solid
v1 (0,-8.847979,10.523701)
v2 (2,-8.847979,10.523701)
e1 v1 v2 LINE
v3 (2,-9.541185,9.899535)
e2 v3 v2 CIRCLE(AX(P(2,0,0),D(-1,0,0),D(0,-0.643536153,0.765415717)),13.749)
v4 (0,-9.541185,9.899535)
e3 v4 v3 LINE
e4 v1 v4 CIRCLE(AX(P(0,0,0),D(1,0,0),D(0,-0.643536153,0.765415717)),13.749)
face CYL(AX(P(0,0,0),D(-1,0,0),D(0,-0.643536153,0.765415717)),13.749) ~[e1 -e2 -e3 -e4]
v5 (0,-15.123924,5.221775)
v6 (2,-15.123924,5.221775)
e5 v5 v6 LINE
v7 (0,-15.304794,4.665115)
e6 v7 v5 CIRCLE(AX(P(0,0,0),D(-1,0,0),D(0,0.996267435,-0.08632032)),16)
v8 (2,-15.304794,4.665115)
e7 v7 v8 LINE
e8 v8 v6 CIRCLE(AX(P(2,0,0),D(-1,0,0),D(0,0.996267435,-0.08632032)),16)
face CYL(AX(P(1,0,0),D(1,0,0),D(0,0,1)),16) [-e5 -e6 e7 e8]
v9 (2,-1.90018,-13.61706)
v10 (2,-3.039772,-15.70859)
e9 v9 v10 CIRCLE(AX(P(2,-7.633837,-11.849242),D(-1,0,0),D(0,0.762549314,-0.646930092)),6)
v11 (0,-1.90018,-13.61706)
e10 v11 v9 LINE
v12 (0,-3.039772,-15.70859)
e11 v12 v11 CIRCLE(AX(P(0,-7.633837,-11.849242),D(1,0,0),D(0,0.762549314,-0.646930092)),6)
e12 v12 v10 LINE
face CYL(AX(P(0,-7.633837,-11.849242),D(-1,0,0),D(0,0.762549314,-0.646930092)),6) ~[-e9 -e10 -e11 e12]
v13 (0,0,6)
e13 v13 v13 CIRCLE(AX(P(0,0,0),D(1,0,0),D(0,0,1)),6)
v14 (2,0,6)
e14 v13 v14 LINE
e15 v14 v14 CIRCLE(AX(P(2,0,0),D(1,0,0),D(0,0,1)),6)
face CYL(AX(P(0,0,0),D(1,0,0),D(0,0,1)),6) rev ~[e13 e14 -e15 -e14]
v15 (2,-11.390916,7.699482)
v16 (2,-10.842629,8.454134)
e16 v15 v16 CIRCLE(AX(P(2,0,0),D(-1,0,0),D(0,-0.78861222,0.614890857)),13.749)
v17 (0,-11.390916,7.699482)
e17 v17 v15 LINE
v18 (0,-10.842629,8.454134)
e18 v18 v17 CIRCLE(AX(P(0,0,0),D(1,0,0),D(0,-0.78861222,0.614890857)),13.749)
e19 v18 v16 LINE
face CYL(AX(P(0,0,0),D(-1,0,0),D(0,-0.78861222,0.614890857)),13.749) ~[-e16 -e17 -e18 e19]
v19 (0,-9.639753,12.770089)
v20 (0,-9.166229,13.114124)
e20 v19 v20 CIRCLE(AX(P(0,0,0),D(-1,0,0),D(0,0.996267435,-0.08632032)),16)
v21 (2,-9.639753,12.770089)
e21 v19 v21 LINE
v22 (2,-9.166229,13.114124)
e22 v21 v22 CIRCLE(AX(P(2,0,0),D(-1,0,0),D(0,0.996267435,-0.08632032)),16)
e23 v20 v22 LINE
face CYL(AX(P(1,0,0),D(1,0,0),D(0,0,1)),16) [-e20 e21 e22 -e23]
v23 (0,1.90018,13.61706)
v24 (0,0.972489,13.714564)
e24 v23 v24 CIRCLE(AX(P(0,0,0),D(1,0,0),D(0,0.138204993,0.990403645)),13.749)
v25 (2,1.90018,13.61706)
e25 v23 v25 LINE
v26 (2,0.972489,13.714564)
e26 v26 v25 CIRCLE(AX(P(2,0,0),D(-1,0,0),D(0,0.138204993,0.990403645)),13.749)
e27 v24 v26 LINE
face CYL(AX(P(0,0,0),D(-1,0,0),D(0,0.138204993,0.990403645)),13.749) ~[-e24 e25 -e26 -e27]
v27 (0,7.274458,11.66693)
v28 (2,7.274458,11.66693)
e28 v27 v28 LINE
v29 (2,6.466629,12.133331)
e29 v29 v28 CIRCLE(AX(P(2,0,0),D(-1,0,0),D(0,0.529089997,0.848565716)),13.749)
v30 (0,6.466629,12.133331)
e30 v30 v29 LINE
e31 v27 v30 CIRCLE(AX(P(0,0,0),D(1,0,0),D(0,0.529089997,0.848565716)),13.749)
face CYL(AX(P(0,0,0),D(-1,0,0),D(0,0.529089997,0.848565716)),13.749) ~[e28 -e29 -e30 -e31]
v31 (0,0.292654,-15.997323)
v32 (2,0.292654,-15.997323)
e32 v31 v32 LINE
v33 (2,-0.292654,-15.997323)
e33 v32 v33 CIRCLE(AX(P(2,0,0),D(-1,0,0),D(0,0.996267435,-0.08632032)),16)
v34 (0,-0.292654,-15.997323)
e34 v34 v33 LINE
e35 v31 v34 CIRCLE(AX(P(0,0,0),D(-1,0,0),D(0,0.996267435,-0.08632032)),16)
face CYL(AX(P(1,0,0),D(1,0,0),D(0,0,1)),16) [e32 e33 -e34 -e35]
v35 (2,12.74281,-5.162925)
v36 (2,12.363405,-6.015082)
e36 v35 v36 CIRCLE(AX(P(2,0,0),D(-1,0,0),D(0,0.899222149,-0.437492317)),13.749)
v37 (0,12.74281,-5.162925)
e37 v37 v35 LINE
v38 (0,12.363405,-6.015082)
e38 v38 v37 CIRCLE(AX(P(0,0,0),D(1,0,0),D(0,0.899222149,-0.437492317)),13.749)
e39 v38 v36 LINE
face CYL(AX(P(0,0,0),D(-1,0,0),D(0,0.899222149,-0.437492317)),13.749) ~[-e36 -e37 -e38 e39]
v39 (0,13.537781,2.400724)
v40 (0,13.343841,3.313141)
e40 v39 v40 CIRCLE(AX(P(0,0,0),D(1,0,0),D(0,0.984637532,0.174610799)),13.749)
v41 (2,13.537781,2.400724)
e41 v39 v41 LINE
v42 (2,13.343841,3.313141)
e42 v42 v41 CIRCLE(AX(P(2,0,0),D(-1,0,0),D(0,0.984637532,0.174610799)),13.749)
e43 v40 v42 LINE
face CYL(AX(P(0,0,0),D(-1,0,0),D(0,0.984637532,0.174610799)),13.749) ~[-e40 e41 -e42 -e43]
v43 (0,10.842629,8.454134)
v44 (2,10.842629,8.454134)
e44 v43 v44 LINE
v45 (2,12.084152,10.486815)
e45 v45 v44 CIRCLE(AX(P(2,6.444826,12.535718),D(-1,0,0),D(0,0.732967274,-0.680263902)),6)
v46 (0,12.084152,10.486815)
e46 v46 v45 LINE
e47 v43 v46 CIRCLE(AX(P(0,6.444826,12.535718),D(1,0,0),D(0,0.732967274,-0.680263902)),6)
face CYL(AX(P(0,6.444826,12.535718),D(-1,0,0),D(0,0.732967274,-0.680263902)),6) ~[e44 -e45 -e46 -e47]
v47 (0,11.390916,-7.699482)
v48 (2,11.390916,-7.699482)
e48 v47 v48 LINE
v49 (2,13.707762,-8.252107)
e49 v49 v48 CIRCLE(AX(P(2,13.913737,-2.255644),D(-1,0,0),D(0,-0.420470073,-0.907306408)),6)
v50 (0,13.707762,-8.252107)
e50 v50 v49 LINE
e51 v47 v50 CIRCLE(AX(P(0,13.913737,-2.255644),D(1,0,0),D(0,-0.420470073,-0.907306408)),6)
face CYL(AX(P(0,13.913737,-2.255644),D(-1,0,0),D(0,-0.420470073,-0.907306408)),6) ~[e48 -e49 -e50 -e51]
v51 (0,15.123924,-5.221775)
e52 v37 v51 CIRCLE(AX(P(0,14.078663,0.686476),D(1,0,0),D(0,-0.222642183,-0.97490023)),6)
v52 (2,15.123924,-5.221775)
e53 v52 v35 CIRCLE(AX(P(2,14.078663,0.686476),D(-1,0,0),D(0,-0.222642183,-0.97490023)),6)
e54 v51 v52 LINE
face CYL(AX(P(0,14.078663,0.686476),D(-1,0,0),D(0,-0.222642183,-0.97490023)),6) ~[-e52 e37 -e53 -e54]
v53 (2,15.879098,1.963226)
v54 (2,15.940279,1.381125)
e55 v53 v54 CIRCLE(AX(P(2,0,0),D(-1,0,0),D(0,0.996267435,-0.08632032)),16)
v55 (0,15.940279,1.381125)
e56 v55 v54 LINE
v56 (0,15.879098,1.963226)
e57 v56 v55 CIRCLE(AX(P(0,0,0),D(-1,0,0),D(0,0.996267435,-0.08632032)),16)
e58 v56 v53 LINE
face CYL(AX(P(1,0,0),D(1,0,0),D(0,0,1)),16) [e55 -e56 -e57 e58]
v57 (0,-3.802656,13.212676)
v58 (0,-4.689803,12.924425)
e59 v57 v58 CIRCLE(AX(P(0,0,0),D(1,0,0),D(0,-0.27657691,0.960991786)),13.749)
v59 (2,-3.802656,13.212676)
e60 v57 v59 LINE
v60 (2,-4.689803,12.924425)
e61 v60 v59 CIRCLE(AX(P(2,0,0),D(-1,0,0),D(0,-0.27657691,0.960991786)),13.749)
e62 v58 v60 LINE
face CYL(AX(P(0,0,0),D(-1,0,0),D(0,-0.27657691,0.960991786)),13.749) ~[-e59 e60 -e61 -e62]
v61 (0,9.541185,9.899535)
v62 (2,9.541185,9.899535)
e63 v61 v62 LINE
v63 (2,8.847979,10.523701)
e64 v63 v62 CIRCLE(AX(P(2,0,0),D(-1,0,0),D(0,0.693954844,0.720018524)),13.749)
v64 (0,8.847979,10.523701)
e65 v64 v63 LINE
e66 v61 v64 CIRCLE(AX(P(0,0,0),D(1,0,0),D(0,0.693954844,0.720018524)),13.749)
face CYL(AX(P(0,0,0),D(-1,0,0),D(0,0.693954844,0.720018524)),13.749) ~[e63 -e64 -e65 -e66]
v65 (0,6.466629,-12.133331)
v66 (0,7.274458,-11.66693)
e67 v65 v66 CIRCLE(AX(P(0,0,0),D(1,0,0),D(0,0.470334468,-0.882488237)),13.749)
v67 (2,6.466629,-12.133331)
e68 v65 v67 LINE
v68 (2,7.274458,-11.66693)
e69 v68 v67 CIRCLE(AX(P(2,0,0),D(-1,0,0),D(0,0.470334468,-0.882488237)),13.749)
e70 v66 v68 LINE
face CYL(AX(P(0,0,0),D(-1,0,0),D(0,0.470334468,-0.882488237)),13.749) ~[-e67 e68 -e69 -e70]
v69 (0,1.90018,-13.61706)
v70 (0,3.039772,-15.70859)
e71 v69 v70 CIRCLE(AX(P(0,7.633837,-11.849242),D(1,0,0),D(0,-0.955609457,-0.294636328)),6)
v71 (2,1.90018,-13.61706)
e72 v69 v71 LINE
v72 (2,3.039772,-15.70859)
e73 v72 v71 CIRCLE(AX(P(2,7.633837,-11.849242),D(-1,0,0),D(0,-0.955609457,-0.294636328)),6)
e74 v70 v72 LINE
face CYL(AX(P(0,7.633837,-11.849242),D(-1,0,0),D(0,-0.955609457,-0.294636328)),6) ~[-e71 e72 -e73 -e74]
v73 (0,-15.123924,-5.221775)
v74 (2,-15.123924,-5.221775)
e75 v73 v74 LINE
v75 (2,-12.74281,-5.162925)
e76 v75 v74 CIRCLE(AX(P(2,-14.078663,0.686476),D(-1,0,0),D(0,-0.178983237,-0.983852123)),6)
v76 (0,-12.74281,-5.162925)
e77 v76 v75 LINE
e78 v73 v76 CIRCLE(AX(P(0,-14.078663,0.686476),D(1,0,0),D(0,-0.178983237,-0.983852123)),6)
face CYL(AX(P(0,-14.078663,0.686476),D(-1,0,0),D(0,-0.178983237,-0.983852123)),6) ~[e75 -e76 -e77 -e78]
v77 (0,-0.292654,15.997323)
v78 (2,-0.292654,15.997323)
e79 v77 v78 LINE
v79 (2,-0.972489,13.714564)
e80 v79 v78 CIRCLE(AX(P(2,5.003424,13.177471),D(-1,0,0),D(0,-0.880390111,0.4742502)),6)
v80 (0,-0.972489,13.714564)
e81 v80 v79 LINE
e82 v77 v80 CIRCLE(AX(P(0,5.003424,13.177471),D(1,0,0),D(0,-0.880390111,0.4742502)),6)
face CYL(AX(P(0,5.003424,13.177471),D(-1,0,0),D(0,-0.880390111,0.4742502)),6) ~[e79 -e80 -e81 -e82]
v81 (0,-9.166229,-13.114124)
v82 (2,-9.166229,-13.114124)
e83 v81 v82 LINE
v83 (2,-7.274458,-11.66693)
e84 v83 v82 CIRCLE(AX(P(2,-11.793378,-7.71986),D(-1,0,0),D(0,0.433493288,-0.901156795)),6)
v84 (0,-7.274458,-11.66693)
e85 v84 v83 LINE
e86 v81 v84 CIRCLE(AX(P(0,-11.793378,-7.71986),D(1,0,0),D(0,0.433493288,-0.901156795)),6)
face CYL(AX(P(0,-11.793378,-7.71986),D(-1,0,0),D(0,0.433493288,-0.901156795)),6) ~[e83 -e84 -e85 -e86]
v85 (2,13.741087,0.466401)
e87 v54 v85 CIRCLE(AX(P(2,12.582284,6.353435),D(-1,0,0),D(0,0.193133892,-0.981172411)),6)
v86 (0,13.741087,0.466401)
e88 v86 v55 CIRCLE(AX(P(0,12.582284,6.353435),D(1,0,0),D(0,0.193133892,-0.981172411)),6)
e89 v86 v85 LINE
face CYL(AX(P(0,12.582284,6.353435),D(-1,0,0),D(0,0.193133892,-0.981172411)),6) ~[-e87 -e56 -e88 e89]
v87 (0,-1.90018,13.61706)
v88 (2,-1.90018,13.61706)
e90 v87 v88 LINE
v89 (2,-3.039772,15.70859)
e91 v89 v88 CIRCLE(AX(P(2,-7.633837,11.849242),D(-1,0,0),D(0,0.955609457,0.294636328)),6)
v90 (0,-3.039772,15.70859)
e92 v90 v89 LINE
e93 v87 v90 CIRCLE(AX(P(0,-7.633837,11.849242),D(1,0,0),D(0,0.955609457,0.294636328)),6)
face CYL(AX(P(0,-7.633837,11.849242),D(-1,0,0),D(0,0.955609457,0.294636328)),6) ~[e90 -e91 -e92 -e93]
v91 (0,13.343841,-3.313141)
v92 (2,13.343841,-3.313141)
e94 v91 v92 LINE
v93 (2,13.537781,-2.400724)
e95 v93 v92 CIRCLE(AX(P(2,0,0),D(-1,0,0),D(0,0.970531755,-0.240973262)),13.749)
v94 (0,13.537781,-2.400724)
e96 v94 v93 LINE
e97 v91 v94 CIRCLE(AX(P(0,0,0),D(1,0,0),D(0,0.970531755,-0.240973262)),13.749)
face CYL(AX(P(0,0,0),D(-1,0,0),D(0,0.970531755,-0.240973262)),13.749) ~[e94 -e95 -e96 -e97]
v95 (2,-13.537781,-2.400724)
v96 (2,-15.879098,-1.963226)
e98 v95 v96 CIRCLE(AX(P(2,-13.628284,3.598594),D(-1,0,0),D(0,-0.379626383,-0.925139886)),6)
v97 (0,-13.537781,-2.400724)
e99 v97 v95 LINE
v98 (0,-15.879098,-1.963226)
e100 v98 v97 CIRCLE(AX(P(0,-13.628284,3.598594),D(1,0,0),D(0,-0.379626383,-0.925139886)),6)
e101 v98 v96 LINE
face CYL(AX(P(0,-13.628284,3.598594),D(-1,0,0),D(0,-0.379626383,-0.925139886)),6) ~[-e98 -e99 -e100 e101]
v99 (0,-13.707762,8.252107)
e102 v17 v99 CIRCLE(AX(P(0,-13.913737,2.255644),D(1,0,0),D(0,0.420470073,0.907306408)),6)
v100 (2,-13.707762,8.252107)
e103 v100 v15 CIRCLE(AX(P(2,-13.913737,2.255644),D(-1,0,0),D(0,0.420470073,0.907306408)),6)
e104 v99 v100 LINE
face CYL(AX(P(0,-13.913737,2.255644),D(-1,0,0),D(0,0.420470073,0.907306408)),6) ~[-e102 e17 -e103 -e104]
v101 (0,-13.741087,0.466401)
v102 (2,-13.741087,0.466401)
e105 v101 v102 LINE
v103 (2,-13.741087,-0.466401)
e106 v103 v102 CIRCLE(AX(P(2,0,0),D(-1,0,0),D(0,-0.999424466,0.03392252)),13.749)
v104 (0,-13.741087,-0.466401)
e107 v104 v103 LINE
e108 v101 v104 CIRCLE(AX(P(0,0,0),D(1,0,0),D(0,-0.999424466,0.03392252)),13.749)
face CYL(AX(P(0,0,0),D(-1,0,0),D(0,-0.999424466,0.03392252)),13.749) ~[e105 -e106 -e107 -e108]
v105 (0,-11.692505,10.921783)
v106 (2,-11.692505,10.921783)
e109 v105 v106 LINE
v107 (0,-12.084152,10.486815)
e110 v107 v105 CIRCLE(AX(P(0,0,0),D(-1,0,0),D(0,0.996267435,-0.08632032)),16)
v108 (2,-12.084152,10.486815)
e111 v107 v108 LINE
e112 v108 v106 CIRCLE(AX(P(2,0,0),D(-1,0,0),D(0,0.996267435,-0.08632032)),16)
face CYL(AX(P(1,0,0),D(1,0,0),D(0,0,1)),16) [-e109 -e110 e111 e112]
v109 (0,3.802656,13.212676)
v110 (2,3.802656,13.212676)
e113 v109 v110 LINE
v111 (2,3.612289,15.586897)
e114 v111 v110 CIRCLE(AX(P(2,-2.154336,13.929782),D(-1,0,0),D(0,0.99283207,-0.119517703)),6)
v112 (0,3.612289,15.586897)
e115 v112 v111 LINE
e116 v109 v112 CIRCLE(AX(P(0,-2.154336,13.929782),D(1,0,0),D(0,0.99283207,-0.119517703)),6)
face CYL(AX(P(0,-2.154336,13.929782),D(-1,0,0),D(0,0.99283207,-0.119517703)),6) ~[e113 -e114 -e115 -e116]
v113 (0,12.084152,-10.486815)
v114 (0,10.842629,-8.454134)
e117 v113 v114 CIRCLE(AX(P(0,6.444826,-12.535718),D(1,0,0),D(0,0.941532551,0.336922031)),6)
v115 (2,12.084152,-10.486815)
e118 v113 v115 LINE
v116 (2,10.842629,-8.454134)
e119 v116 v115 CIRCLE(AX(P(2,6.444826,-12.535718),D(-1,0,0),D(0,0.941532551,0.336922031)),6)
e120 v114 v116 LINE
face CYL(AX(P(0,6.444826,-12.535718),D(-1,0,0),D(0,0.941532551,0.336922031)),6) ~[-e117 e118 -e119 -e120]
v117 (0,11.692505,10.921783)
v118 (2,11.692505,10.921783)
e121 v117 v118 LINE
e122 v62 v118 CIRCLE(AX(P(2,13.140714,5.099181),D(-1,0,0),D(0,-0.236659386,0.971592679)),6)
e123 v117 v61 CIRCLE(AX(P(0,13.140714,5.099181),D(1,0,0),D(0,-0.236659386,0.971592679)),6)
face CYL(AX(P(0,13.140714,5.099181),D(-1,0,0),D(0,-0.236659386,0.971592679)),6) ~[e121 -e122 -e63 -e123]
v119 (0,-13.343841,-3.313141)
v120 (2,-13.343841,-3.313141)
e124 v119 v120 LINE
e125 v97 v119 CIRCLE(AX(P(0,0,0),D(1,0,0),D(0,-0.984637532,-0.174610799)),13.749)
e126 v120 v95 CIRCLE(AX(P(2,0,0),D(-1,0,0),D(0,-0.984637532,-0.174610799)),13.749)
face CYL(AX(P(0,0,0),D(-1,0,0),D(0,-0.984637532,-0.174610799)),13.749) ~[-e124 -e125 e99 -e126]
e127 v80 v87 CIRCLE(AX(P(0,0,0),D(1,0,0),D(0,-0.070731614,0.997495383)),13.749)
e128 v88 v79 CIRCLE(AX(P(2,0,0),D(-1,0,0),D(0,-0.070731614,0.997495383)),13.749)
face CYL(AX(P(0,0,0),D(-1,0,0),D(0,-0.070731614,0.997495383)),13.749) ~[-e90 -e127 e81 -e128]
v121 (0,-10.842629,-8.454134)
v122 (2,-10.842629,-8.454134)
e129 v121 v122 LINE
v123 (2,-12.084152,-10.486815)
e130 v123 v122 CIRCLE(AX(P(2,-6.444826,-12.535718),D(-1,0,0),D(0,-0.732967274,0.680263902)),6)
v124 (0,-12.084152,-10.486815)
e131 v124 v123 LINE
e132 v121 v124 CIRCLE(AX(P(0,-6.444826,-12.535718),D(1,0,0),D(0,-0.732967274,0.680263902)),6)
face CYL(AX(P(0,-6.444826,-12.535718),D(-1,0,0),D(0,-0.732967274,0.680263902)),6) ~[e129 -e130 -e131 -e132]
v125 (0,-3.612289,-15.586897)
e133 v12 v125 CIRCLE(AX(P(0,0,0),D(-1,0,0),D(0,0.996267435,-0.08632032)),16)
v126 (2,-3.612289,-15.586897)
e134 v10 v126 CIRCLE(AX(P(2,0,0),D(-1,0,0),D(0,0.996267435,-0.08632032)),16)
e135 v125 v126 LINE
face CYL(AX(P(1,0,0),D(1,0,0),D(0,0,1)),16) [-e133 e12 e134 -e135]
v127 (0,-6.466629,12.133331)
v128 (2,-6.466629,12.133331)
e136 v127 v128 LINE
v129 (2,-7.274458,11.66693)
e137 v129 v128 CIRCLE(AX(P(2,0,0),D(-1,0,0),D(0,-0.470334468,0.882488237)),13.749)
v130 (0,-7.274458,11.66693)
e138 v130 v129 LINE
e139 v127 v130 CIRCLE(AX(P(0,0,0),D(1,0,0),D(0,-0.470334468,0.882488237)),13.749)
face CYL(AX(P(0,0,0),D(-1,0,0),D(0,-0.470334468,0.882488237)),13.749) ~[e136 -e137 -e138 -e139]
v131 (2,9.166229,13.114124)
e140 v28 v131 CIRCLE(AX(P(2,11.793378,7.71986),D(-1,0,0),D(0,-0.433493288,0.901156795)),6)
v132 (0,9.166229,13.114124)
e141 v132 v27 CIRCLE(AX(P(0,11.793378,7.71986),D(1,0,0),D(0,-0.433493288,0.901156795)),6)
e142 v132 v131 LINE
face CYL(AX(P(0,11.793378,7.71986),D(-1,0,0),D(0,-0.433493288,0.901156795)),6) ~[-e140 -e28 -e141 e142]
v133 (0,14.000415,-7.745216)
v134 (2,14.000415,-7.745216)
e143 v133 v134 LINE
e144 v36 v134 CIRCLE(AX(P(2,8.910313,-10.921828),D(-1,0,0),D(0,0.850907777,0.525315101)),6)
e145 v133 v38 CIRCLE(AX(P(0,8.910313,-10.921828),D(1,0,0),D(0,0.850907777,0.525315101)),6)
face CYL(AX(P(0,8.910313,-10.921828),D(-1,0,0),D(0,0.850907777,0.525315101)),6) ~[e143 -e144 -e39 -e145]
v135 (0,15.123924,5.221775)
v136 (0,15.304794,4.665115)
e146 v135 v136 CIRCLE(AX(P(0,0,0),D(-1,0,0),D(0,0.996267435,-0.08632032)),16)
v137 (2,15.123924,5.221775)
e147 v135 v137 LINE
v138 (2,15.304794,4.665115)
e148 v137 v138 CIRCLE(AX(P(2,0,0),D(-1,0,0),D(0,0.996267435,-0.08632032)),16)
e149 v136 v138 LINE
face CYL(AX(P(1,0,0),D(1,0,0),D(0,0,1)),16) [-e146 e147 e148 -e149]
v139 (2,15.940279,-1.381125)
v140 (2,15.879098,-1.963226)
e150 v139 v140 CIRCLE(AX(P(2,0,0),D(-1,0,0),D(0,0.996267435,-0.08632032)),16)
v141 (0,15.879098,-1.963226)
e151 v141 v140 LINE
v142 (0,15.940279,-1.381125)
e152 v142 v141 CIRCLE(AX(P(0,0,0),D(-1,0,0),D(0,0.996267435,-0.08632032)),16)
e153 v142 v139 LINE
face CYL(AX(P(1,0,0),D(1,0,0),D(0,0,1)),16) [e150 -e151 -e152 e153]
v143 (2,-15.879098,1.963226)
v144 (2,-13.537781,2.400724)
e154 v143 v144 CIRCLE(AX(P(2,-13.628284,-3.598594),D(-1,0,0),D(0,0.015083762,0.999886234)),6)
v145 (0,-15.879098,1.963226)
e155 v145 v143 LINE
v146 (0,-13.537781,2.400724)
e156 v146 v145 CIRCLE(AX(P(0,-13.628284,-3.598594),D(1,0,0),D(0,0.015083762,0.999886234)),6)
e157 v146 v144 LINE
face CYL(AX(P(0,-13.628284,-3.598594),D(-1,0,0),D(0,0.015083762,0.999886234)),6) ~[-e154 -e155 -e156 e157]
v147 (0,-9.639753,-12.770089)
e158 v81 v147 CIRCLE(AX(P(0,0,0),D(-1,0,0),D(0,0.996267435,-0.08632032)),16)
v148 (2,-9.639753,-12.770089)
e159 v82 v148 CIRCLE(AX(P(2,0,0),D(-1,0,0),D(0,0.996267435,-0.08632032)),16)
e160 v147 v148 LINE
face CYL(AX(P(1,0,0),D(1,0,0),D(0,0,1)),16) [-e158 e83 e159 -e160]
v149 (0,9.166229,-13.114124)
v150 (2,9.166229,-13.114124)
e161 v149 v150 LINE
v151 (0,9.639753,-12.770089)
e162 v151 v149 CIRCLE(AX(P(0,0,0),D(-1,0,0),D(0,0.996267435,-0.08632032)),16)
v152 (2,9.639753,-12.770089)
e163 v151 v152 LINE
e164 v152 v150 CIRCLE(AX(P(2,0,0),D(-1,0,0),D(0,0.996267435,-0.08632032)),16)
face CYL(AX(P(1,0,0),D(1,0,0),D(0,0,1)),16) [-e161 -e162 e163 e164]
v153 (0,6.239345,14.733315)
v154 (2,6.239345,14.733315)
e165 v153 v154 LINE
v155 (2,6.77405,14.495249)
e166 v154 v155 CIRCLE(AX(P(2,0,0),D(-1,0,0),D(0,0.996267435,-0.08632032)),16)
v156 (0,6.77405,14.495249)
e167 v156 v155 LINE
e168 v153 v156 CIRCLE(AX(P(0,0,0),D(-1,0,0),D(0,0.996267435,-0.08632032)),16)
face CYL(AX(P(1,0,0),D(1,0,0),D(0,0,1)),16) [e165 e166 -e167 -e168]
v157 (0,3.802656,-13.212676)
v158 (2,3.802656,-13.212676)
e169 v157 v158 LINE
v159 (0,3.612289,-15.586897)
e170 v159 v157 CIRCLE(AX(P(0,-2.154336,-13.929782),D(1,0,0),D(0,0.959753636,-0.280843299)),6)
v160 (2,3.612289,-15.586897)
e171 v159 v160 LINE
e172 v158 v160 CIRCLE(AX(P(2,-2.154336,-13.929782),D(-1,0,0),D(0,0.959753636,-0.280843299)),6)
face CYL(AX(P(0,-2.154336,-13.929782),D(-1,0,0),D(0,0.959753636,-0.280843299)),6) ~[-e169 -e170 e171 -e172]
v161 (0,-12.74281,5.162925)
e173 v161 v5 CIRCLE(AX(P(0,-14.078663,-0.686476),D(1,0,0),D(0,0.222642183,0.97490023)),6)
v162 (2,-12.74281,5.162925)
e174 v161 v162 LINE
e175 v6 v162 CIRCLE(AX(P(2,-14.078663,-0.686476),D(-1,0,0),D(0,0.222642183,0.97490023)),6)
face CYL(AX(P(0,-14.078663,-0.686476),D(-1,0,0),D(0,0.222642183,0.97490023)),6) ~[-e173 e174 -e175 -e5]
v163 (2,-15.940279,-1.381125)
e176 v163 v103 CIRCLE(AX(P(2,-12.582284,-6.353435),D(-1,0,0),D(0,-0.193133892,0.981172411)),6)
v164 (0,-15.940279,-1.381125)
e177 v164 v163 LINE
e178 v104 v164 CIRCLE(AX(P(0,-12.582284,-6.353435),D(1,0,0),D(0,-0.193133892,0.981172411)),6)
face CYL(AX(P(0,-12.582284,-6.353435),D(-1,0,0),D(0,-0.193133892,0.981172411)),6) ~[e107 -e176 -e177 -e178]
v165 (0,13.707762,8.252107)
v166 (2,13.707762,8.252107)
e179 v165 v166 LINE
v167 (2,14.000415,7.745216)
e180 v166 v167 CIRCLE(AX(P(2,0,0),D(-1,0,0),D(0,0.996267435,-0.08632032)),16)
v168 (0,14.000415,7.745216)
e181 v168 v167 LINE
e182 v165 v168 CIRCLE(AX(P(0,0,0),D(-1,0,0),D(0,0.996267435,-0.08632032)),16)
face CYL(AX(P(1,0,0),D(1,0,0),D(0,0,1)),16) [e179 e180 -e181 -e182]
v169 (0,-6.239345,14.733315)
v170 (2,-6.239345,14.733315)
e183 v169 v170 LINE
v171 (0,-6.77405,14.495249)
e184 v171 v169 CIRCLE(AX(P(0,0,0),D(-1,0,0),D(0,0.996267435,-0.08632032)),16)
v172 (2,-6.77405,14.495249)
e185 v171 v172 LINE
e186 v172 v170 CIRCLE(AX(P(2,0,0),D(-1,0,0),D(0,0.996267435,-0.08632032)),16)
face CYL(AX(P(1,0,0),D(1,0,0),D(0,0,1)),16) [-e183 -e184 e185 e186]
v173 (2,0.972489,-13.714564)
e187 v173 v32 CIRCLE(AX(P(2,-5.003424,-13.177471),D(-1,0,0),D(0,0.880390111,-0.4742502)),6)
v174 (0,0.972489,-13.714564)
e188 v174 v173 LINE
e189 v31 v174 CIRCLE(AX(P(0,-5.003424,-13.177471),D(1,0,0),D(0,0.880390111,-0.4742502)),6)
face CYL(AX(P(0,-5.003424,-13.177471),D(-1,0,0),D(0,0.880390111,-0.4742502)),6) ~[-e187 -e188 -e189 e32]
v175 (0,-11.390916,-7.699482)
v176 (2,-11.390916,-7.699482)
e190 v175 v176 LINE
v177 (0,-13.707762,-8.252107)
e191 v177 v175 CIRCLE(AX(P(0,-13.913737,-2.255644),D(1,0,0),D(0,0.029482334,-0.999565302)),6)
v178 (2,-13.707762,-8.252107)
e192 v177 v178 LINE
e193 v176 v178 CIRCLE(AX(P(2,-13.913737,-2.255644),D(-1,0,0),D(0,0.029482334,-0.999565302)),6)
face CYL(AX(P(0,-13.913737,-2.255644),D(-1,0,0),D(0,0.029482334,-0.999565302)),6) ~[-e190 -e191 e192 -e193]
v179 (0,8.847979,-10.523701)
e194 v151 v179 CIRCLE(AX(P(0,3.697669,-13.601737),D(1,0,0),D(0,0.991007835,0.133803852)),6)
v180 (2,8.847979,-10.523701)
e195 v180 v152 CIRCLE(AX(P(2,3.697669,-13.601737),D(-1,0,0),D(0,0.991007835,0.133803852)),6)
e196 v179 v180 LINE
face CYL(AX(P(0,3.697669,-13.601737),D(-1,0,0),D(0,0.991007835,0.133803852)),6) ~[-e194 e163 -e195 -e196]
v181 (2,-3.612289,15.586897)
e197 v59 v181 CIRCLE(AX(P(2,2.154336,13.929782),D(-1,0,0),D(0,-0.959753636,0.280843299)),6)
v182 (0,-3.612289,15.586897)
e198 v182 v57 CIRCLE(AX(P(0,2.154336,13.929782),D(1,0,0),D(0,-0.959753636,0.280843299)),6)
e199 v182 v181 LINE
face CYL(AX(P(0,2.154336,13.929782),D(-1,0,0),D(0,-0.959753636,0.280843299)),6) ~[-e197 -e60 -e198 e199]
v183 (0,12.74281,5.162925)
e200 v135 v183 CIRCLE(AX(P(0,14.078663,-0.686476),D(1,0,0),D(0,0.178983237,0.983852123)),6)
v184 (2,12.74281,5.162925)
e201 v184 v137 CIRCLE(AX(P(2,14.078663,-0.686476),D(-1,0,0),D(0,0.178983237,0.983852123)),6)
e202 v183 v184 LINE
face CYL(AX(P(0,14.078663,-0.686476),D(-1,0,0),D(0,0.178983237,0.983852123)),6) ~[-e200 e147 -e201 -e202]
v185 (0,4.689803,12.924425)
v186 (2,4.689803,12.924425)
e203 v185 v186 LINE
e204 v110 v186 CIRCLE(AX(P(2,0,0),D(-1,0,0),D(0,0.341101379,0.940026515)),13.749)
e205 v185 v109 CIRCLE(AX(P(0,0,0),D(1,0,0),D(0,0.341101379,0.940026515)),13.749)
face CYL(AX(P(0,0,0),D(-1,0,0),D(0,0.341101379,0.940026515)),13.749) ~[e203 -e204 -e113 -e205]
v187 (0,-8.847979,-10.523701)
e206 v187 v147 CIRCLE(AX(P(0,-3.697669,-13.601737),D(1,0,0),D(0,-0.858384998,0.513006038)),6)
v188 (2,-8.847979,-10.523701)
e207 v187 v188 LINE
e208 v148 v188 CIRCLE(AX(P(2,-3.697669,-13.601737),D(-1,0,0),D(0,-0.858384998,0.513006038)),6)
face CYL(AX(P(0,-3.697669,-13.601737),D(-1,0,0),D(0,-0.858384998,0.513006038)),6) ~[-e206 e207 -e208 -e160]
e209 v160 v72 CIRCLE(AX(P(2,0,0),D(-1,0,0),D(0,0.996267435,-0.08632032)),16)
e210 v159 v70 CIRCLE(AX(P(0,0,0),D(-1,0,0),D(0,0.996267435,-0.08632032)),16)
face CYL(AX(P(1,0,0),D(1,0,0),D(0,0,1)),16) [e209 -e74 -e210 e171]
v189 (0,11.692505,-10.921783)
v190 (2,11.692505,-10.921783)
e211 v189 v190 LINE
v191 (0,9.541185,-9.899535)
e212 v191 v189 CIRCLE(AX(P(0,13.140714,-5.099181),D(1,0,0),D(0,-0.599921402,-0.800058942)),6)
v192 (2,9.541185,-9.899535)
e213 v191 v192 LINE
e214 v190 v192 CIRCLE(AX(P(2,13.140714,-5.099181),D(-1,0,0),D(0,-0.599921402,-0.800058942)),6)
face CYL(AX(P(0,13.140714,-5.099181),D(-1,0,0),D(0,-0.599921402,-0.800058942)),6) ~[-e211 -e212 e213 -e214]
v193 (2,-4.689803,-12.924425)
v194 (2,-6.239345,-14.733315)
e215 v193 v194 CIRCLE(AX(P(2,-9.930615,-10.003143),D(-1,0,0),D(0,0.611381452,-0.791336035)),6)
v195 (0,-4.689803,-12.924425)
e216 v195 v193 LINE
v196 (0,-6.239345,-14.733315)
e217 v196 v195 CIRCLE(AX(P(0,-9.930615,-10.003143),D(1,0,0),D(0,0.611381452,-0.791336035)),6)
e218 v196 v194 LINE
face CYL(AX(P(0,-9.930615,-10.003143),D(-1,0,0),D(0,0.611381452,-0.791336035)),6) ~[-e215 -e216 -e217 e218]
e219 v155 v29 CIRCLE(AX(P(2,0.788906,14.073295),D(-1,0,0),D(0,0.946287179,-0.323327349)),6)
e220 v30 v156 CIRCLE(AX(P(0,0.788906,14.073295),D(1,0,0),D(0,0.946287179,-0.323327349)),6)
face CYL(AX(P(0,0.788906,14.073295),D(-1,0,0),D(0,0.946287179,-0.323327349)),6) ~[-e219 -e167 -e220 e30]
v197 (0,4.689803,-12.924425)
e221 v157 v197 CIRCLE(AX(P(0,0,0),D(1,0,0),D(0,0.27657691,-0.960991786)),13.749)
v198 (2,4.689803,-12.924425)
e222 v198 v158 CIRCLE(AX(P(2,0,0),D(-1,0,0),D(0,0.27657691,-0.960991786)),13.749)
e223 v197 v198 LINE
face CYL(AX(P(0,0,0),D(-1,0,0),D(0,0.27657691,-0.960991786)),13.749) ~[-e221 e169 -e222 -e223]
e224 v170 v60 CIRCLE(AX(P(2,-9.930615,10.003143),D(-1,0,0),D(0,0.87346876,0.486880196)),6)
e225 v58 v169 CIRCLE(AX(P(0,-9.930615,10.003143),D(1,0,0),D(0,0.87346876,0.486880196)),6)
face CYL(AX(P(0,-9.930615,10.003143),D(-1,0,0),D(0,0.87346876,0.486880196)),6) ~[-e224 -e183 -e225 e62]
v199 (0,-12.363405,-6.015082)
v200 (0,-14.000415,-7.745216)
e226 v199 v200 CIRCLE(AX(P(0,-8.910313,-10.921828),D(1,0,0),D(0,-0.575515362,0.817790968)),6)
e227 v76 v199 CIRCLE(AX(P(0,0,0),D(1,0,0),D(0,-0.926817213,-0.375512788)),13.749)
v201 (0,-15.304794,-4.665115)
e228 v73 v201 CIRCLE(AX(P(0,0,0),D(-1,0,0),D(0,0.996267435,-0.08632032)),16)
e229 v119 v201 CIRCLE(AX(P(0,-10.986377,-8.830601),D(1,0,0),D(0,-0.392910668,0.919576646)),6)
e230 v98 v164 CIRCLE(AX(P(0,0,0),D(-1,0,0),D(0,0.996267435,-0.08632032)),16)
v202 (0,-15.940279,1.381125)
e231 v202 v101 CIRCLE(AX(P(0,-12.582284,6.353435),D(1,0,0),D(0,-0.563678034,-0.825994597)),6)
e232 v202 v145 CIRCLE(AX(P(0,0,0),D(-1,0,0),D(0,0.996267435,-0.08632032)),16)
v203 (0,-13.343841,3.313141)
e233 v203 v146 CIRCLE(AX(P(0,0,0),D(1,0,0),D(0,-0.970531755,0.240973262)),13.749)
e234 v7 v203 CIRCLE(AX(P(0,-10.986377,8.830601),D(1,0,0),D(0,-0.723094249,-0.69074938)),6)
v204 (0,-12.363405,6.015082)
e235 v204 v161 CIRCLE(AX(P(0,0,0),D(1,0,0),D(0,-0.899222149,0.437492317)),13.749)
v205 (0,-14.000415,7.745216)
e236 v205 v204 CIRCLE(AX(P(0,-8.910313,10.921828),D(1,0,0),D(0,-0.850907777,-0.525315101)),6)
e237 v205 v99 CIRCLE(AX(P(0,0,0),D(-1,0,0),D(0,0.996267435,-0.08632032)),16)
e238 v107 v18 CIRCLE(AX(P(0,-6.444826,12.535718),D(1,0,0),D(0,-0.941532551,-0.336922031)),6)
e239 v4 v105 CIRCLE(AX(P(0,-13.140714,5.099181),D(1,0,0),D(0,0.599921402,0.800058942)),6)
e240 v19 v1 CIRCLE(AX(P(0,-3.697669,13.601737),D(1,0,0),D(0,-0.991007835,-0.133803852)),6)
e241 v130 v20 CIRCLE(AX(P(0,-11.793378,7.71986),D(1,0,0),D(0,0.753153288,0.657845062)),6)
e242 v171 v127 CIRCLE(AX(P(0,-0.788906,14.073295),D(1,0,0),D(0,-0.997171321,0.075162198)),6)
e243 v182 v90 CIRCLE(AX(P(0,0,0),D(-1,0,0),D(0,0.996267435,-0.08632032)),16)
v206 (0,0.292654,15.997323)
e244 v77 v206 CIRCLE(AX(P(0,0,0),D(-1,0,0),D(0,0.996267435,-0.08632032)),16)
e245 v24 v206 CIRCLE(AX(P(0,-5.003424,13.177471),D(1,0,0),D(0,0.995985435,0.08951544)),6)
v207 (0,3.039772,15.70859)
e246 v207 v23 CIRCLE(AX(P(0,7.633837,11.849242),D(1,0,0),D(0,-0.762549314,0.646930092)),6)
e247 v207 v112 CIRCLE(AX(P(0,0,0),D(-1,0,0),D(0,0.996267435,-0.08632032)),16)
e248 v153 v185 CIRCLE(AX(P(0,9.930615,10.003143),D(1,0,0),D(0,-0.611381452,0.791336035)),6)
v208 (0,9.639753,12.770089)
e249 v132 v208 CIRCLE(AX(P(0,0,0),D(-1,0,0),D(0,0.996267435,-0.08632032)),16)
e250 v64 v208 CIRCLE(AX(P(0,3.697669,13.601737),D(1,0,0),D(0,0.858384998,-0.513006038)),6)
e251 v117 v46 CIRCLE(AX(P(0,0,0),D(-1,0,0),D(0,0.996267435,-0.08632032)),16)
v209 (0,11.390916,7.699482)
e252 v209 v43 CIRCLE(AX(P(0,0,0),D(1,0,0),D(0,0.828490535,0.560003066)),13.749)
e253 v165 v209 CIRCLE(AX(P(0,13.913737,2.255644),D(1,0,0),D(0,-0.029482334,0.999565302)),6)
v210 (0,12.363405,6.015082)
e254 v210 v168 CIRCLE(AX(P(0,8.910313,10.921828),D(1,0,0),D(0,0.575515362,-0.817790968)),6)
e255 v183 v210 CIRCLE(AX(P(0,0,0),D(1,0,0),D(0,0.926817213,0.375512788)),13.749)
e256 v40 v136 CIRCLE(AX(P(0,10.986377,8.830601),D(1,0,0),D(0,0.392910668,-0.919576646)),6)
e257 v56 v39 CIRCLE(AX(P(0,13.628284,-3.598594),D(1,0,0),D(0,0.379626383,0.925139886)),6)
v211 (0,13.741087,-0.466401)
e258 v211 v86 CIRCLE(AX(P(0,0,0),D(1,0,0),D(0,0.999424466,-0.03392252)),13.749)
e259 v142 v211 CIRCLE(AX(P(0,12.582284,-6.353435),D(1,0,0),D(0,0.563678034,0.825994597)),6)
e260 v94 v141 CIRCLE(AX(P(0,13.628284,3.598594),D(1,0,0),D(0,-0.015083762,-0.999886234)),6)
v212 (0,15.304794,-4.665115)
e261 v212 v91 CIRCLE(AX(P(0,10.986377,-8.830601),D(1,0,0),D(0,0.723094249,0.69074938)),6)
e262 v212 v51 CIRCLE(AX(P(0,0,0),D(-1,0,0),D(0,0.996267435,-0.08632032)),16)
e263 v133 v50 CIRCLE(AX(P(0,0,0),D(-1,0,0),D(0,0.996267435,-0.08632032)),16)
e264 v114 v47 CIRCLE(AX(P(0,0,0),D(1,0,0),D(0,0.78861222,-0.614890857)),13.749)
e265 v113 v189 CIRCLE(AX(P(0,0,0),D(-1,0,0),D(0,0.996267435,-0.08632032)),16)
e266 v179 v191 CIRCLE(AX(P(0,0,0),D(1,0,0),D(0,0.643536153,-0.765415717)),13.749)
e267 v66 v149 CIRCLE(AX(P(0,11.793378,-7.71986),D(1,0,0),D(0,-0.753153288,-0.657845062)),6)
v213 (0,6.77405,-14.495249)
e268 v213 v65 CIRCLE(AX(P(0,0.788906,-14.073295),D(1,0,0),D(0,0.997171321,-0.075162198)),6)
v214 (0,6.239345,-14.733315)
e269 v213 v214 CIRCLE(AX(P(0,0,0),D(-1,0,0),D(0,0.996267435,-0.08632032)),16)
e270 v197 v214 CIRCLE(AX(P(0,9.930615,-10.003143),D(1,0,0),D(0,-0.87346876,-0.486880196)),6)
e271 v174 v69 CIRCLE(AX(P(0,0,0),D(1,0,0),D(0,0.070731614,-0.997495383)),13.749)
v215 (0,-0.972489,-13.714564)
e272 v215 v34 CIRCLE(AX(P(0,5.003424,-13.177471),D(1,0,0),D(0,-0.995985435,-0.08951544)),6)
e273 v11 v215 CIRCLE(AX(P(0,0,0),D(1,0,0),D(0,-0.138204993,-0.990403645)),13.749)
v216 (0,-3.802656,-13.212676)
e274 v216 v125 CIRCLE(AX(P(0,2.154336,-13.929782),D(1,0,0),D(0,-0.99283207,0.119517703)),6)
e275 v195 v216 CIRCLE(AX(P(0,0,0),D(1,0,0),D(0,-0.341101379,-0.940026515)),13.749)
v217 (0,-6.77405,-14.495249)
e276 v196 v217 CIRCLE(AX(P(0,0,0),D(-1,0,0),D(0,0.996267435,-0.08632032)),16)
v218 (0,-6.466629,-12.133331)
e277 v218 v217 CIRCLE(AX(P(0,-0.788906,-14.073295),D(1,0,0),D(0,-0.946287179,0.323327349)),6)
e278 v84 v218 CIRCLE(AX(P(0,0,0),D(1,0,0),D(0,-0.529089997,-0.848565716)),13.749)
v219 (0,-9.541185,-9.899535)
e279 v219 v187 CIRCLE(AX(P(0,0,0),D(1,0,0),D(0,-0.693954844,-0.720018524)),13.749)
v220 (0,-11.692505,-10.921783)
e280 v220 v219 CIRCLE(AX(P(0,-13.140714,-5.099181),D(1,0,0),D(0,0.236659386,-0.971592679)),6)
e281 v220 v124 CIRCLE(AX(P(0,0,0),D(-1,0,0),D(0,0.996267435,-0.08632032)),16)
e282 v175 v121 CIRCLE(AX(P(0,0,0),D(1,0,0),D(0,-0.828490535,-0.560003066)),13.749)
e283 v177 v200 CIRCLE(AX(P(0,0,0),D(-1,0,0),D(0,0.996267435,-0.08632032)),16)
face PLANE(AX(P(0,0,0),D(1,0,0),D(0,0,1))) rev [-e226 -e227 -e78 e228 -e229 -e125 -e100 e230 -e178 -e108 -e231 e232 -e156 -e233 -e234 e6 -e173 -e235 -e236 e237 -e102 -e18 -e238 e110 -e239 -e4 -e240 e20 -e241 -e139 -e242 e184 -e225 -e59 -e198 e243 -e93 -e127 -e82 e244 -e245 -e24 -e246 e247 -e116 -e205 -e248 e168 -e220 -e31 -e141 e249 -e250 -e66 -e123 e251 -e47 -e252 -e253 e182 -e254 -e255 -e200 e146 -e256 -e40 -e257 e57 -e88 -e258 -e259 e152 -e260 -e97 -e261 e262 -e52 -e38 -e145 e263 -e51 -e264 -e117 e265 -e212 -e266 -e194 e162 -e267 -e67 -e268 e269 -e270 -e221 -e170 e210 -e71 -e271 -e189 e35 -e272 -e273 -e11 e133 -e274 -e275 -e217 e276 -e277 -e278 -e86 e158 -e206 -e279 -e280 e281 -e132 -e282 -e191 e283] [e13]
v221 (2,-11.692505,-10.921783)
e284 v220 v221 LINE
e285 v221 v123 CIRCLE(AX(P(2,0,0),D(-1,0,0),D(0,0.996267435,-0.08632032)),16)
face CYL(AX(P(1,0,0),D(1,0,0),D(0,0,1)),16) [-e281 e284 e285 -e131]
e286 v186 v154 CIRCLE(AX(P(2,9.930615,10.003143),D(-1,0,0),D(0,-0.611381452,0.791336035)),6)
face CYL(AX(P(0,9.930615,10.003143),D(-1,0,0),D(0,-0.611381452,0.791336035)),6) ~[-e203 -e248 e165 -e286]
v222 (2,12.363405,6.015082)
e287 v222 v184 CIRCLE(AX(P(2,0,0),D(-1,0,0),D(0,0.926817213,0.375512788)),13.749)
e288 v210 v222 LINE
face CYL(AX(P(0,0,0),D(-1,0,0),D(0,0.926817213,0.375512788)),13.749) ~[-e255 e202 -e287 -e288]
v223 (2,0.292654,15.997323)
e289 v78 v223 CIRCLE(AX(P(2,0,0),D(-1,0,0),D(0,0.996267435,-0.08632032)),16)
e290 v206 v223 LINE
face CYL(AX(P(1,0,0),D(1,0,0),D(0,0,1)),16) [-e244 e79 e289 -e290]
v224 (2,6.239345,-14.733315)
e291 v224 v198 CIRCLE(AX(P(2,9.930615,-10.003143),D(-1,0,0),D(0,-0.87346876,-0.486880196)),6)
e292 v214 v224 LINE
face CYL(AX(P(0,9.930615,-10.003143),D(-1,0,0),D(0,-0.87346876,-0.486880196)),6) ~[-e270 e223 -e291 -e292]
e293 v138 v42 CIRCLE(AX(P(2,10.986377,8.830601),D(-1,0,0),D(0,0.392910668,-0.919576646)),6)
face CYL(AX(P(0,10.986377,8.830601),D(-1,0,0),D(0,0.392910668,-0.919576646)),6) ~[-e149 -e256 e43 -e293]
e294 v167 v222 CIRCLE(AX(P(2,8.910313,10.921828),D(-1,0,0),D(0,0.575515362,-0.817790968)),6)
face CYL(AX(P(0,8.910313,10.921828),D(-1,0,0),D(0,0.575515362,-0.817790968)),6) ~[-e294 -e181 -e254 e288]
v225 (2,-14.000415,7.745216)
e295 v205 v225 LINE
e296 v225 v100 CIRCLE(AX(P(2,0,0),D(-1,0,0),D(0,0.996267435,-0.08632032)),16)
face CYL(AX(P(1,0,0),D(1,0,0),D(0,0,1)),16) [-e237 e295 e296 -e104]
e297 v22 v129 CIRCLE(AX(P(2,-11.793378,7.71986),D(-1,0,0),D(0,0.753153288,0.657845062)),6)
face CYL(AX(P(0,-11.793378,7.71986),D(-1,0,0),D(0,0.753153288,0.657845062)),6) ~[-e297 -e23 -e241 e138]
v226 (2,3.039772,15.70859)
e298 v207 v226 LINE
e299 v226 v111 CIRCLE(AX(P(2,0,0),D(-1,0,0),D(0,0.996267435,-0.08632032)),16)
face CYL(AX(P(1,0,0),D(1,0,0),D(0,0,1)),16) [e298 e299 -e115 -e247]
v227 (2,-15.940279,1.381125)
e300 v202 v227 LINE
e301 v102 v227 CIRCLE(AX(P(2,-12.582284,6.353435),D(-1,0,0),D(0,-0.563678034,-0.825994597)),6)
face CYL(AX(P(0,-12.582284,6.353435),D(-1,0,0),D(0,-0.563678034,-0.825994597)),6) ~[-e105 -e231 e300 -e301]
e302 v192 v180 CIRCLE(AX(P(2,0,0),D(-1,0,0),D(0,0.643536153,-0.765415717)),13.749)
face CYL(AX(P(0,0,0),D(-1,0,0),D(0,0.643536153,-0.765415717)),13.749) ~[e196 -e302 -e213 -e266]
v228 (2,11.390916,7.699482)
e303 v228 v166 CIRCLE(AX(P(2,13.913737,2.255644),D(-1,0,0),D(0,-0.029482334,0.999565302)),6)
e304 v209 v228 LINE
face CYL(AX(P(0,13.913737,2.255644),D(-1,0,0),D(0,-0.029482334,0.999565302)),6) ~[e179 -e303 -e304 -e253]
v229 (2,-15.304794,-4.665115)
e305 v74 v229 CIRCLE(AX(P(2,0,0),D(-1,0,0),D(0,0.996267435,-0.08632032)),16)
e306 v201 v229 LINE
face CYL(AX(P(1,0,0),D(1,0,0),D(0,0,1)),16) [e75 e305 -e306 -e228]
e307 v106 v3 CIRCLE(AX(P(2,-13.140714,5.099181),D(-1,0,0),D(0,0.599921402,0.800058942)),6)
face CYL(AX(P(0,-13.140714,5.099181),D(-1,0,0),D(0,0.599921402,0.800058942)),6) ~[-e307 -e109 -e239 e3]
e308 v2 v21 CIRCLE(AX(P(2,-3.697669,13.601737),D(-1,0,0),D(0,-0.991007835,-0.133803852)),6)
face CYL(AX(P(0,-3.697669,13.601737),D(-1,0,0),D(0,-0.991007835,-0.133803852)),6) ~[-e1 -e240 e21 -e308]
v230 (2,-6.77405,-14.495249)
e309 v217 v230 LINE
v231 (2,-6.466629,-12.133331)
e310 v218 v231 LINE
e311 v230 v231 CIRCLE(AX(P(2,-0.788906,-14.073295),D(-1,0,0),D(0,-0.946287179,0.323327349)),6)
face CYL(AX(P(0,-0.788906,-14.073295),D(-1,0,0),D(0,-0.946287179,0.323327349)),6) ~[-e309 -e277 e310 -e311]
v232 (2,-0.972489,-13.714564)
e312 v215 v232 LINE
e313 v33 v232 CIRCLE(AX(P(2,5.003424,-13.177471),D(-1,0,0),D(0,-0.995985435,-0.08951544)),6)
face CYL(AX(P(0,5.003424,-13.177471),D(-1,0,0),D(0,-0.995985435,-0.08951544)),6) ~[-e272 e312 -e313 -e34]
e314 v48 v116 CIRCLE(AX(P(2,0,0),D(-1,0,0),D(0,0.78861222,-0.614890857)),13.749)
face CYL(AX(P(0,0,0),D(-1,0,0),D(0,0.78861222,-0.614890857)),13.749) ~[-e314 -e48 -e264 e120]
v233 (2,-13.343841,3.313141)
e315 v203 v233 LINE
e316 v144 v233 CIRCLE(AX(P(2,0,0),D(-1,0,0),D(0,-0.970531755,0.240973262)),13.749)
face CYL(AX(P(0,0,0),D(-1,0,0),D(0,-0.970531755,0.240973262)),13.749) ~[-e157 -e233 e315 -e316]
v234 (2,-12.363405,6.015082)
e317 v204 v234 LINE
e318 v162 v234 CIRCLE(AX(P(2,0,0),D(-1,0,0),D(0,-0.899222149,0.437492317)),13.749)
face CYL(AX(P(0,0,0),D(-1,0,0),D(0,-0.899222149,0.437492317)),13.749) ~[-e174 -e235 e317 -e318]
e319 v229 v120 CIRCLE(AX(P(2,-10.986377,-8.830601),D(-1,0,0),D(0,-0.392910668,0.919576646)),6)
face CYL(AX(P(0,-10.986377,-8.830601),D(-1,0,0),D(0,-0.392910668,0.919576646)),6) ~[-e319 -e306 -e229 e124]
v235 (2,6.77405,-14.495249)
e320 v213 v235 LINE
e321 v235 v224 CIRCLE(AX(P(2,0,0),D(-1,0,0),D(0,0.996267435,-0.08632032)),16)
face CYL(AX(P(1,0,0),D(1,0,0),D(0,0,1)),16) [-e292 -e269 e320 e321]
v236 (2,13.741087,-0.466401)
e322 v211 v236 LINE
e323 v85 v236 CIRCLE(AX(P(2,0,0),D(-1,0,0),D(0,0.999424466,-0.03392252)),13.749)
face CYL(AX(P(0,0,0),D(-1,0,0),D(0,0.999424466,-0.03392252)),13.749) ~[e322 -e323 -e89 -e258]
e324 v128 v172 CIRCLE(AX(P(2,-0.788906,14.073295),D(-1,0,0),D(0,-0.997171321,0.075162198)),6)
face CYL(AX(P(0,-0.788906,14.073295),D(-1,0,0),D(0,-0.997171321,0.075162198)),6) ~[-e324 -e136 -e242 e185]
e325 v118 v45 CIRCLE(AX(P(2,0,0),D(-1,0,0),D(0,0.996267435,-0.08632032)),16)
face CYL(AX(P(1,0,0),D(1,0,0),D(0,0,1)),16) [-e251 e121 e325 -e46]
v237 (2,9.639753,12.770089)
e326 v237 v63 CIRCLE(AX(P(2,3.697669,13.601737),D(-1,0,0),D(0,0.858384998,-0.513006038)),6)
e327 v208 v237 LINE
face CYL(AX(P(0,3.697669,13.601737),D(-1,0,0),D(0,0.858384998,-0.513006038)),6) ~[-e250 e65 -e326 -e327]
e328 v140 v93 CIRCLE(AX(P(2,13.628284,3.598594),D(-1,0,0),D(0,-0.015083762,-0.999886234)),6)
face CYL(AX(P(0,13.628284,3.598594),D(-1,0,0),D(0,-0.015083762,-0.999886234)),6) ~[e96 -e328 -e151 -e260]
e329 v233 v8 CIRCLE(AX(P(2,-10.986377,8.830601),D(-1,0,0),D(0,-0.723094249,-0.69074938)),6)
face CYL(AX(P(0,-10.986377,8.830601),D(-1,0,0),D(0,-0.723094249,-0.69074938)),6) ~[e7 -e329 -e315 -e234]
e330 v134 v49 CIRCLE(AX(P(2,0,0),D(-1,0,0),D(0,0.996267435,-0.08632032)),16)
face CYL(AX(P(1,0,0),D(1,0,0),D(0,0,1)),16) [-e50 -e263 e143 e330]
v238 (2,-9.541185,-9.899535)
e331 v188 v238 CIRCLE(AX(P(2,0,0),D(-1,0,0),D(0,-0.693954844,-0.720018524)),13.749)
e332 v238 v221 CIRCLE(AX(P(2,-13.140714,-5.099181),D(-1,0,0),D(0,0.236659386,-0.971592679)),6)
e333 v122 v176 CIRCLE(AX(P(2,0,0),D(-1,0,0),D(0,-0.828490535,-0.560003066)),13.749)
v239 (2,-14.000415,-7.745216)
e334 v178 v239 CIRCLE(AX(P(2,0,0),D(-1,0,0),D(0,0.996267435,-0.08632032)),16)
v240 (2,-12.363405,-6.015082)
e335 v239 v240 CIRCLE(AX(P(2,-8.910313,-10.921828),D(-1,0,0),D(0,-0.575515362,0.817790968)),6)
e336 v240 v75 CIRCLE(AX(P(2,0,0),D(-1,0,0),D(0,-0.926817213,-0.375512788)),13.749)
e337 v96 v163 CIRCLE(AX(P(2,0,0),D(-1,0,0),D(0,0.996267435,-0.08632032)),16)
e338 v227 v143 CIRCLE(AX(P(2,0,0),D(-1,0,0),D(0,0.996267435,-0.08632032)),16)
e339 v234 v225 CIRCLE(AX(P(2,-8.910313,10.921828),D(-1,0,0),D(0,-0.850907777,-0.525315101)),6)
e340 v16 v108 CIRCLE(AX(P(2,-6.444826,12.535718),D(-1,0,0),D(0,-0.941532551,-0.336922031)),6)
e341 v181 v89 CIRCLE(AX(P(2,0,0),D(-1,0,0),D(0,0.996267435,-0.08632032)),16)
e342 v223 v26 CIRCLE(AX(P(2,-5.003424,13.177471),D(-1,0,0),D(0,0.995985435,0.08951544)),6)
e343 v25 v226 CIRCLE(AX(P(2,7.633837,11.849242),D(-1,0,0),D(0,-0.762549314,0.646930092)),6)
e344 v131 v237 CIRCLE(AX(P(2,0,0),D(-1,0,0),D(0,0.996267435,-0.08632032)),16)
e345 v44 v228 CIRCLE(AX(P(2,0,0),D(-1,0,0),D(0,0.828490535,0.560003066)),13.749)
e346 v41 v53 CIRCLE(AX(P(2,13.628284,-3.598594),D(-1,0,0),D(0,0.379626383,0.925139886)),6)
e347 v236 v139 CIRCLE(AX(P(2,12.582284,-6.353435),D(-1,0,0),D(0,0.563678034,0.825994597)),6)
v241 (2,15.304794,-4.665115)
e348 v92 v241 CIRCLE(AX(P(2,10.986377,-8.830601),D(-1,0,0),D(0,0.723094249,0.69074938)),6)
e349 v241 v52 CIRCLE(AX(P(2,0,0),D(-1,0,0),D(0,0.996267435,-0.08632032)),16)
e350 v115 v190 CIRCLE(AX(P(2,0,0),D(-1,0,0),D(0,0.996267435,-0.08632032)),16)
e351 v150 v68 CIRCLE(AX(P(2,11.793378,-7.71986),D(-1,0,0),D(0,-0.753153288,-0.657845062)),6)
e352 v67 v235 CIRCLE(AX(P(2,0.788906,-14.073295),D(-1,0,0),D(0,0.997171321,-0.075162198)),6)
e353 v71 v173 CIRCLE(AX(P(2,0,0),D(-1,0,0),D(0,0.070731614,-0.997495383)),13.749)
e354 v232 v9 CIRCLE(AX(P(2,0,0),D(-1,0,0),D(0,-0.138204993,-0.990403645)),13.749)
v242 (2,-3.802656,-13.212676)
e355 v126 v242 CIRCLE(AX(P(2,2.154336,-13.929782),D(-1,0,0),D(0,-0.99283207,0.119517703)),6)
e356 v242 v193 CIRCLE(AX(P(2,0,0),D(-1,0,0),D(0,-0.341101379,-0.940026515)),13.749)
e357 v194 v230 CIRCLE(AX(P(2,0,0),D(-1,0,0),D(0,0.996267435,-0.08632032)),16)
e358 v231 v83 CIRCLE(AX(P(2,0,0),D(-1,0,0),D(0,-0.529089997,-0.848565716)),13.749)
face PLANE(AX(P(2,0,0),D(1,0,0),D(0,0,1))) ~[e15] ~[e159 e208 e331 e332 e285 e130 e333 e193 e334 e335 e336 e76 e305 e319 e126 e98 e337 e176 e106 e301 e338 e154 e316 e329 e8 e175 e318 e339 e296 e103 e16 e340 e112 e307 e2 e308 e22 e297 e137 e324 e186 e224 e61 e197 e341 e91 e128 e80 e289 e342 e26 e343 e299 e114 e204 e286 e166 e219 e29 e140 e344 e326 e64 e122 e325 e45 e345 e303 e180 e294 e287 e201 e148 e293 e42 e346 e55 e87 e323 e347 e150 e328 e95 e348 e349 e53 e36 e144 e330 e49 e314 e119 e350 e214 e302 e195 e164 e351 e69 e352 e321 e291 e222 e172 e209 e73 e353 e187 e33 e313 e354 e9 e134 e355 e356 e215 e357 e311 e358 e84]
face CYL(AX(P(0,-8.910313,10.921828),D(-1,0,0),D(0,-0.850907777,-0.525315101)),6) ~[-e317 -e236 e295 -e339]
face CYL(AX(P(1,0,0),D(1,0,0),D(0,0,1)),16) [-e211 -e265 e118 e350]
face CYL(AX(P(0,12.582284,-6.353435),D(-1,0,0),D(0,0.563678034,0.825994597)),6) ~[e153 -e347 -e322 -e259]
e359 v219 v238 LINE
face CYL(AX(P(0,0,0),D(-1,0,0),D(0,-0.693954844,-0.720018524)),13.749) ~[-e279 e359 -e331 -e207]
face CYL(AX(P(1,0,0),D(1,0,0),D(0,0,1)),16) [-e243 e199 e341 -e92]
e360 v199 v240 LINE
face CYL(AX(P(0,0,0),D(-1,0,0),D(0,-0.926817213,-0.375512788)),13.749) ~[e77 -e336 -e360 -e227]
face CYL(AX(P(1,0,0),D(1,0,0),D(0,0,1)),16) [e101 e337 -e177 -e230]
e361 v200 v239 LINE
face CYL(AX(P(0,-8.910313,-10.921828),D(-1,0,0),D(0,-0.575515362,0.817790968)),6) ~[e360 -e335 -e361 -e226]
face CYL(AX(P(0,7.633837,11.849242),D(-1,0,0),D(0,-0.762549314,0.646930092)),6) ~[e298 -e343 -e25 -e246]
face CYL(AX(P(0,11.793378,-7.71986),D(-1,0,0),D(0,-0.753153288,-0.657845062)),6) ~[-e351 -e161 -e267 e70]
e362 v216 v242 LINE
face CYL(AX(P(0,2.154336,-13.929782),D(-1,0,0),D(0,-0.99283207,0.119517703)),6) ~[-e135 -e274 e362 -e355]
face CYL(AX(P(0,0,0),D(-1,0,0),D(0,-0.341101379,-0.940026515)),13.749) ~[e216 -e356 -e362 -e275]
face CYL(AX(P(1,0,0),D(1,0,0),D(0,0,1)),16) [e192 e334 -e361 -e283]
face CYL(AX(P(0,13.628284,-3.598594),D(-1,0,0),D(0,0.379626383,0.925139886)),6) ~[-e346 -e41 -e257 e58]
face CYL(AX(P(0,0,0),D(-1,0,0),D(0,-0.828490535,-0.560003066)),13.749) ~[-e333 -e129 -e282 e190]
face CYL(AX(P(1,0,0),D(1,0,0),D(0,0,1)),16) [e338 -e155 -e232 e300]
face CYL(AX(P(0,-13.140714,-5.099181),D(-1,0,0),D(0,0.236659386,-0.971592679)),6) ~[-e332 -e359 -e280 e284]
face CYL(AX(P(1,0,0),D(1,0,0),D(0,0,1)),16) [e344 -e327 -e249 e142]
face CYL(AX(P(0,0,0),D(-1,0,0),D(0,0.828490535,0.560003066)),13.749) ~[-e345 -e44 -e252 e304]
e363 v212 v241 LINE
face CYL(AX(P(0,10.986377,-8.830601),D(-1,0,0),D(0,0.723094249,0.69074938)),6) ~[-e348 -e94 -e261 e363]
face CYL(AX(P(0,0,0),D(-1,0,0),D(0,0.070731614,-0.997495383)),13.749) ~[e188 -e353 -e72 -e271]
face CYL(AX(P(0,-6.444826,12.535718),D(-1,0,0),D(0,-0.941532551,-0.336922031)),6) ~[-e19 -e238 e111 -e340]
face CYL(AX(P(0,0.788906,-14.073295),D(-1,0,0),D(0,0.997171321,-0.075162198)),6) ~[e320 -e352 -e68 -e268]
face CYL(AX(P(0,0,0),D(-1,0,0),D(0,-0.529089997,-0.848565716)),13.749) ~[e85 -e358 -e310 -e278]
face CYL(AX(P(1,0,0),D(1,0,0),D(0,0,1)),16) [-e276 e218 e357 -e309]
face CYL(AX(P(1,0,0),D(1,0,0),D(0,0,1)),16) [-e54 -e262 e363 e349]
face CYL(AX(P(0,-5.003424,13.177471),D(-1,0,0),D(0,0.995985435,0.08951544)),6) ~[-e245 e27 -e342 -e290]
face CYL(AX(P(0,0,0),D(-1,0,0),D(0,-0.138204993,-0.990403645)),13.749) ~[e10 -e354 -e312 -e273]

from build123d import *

# Parameters (mm, degrees)
BASPROSKE_W     = 2
BASPROSKE_H     = 16
TOOTHCUT_DEPTH  = 23.715633383
TEETHCUTS_COUNT = 30
BORSKE_R        = 6
BORE_DEPTH      = 50.0000508


with BuildPart() as part:
    # BasProSke → Base-Revolve (revolve)
    with BuildSketch(Plane(origin=(0, 0, 0), x_dir=(1, 0, 0), z_dir=(0, 1, 0)), mode=Mode.PRIVATE) as base_revolve_sk:
        with Locations((1, 8)):
            Rectangle(BASPROSKE_W, BASPROSKE_H)
    revolve(base_revolve_sk.sketch.rotate(Axis((-10, 0, 0), (1, 0, 0)), 180), axis=Axis((-10, 0, 0), (1, 0, 0)))

    # TooCutSke → ToothCut (cut, through all)
    with BuildSketch(Plane(origin=(0, 0, 0), x_dir=(0, 0, -1), z_dir=(1, 0, 0))):
        with BuildLine():
            ThreePointArc((0.466400716, 13.741086979), (0, 13.749), (-0.466400716, 13.741086979))
            ThreePointArc((-0.466400716, 13.741086979), (-0.819142092, 14.899954875), (-1.3974676, 15.964351834))
            ThreePointArc((-1.3974676, 15.964351834), (0, 16.0254), (1.3974676, 15.964351834))
            ThreePointArc((1.3974676, 15.964351834), (0.819142092, 14.899954875), (0.466400716, 13.741086979))
        make_face()
    toothcut = extrude(amount=TOOTHCUT_DEPTH, mode=Mode.SUBTRACT)

    # TeethCuts: ToothCut ×30 about axis
    teethcuts_axis = Axis((0, 0, 0), (1, 0, 0))
    for i in range(1, TEETHCUTS_COUNT):
        add(toothcut.rotate(teethcuts_axis, i * 360 / TEETHCUTS_COUNT), mode=Mode.SUBTRACT)

    # BorSke → Bore (cut, symmetric)
    with BuildSketch(Plane(origin=(0, 0, 0), x_dir=(0, 0, -1), z_dir=(1, 0, 0))):
        with Locations(Location((0, 0, 0), (0, 0, 180))):
            Circle(BORSKE_R)
    extrude(amount=BORE_DEPTH, both=True, mode=Mode.SUBTRACT)


solid = part.part
